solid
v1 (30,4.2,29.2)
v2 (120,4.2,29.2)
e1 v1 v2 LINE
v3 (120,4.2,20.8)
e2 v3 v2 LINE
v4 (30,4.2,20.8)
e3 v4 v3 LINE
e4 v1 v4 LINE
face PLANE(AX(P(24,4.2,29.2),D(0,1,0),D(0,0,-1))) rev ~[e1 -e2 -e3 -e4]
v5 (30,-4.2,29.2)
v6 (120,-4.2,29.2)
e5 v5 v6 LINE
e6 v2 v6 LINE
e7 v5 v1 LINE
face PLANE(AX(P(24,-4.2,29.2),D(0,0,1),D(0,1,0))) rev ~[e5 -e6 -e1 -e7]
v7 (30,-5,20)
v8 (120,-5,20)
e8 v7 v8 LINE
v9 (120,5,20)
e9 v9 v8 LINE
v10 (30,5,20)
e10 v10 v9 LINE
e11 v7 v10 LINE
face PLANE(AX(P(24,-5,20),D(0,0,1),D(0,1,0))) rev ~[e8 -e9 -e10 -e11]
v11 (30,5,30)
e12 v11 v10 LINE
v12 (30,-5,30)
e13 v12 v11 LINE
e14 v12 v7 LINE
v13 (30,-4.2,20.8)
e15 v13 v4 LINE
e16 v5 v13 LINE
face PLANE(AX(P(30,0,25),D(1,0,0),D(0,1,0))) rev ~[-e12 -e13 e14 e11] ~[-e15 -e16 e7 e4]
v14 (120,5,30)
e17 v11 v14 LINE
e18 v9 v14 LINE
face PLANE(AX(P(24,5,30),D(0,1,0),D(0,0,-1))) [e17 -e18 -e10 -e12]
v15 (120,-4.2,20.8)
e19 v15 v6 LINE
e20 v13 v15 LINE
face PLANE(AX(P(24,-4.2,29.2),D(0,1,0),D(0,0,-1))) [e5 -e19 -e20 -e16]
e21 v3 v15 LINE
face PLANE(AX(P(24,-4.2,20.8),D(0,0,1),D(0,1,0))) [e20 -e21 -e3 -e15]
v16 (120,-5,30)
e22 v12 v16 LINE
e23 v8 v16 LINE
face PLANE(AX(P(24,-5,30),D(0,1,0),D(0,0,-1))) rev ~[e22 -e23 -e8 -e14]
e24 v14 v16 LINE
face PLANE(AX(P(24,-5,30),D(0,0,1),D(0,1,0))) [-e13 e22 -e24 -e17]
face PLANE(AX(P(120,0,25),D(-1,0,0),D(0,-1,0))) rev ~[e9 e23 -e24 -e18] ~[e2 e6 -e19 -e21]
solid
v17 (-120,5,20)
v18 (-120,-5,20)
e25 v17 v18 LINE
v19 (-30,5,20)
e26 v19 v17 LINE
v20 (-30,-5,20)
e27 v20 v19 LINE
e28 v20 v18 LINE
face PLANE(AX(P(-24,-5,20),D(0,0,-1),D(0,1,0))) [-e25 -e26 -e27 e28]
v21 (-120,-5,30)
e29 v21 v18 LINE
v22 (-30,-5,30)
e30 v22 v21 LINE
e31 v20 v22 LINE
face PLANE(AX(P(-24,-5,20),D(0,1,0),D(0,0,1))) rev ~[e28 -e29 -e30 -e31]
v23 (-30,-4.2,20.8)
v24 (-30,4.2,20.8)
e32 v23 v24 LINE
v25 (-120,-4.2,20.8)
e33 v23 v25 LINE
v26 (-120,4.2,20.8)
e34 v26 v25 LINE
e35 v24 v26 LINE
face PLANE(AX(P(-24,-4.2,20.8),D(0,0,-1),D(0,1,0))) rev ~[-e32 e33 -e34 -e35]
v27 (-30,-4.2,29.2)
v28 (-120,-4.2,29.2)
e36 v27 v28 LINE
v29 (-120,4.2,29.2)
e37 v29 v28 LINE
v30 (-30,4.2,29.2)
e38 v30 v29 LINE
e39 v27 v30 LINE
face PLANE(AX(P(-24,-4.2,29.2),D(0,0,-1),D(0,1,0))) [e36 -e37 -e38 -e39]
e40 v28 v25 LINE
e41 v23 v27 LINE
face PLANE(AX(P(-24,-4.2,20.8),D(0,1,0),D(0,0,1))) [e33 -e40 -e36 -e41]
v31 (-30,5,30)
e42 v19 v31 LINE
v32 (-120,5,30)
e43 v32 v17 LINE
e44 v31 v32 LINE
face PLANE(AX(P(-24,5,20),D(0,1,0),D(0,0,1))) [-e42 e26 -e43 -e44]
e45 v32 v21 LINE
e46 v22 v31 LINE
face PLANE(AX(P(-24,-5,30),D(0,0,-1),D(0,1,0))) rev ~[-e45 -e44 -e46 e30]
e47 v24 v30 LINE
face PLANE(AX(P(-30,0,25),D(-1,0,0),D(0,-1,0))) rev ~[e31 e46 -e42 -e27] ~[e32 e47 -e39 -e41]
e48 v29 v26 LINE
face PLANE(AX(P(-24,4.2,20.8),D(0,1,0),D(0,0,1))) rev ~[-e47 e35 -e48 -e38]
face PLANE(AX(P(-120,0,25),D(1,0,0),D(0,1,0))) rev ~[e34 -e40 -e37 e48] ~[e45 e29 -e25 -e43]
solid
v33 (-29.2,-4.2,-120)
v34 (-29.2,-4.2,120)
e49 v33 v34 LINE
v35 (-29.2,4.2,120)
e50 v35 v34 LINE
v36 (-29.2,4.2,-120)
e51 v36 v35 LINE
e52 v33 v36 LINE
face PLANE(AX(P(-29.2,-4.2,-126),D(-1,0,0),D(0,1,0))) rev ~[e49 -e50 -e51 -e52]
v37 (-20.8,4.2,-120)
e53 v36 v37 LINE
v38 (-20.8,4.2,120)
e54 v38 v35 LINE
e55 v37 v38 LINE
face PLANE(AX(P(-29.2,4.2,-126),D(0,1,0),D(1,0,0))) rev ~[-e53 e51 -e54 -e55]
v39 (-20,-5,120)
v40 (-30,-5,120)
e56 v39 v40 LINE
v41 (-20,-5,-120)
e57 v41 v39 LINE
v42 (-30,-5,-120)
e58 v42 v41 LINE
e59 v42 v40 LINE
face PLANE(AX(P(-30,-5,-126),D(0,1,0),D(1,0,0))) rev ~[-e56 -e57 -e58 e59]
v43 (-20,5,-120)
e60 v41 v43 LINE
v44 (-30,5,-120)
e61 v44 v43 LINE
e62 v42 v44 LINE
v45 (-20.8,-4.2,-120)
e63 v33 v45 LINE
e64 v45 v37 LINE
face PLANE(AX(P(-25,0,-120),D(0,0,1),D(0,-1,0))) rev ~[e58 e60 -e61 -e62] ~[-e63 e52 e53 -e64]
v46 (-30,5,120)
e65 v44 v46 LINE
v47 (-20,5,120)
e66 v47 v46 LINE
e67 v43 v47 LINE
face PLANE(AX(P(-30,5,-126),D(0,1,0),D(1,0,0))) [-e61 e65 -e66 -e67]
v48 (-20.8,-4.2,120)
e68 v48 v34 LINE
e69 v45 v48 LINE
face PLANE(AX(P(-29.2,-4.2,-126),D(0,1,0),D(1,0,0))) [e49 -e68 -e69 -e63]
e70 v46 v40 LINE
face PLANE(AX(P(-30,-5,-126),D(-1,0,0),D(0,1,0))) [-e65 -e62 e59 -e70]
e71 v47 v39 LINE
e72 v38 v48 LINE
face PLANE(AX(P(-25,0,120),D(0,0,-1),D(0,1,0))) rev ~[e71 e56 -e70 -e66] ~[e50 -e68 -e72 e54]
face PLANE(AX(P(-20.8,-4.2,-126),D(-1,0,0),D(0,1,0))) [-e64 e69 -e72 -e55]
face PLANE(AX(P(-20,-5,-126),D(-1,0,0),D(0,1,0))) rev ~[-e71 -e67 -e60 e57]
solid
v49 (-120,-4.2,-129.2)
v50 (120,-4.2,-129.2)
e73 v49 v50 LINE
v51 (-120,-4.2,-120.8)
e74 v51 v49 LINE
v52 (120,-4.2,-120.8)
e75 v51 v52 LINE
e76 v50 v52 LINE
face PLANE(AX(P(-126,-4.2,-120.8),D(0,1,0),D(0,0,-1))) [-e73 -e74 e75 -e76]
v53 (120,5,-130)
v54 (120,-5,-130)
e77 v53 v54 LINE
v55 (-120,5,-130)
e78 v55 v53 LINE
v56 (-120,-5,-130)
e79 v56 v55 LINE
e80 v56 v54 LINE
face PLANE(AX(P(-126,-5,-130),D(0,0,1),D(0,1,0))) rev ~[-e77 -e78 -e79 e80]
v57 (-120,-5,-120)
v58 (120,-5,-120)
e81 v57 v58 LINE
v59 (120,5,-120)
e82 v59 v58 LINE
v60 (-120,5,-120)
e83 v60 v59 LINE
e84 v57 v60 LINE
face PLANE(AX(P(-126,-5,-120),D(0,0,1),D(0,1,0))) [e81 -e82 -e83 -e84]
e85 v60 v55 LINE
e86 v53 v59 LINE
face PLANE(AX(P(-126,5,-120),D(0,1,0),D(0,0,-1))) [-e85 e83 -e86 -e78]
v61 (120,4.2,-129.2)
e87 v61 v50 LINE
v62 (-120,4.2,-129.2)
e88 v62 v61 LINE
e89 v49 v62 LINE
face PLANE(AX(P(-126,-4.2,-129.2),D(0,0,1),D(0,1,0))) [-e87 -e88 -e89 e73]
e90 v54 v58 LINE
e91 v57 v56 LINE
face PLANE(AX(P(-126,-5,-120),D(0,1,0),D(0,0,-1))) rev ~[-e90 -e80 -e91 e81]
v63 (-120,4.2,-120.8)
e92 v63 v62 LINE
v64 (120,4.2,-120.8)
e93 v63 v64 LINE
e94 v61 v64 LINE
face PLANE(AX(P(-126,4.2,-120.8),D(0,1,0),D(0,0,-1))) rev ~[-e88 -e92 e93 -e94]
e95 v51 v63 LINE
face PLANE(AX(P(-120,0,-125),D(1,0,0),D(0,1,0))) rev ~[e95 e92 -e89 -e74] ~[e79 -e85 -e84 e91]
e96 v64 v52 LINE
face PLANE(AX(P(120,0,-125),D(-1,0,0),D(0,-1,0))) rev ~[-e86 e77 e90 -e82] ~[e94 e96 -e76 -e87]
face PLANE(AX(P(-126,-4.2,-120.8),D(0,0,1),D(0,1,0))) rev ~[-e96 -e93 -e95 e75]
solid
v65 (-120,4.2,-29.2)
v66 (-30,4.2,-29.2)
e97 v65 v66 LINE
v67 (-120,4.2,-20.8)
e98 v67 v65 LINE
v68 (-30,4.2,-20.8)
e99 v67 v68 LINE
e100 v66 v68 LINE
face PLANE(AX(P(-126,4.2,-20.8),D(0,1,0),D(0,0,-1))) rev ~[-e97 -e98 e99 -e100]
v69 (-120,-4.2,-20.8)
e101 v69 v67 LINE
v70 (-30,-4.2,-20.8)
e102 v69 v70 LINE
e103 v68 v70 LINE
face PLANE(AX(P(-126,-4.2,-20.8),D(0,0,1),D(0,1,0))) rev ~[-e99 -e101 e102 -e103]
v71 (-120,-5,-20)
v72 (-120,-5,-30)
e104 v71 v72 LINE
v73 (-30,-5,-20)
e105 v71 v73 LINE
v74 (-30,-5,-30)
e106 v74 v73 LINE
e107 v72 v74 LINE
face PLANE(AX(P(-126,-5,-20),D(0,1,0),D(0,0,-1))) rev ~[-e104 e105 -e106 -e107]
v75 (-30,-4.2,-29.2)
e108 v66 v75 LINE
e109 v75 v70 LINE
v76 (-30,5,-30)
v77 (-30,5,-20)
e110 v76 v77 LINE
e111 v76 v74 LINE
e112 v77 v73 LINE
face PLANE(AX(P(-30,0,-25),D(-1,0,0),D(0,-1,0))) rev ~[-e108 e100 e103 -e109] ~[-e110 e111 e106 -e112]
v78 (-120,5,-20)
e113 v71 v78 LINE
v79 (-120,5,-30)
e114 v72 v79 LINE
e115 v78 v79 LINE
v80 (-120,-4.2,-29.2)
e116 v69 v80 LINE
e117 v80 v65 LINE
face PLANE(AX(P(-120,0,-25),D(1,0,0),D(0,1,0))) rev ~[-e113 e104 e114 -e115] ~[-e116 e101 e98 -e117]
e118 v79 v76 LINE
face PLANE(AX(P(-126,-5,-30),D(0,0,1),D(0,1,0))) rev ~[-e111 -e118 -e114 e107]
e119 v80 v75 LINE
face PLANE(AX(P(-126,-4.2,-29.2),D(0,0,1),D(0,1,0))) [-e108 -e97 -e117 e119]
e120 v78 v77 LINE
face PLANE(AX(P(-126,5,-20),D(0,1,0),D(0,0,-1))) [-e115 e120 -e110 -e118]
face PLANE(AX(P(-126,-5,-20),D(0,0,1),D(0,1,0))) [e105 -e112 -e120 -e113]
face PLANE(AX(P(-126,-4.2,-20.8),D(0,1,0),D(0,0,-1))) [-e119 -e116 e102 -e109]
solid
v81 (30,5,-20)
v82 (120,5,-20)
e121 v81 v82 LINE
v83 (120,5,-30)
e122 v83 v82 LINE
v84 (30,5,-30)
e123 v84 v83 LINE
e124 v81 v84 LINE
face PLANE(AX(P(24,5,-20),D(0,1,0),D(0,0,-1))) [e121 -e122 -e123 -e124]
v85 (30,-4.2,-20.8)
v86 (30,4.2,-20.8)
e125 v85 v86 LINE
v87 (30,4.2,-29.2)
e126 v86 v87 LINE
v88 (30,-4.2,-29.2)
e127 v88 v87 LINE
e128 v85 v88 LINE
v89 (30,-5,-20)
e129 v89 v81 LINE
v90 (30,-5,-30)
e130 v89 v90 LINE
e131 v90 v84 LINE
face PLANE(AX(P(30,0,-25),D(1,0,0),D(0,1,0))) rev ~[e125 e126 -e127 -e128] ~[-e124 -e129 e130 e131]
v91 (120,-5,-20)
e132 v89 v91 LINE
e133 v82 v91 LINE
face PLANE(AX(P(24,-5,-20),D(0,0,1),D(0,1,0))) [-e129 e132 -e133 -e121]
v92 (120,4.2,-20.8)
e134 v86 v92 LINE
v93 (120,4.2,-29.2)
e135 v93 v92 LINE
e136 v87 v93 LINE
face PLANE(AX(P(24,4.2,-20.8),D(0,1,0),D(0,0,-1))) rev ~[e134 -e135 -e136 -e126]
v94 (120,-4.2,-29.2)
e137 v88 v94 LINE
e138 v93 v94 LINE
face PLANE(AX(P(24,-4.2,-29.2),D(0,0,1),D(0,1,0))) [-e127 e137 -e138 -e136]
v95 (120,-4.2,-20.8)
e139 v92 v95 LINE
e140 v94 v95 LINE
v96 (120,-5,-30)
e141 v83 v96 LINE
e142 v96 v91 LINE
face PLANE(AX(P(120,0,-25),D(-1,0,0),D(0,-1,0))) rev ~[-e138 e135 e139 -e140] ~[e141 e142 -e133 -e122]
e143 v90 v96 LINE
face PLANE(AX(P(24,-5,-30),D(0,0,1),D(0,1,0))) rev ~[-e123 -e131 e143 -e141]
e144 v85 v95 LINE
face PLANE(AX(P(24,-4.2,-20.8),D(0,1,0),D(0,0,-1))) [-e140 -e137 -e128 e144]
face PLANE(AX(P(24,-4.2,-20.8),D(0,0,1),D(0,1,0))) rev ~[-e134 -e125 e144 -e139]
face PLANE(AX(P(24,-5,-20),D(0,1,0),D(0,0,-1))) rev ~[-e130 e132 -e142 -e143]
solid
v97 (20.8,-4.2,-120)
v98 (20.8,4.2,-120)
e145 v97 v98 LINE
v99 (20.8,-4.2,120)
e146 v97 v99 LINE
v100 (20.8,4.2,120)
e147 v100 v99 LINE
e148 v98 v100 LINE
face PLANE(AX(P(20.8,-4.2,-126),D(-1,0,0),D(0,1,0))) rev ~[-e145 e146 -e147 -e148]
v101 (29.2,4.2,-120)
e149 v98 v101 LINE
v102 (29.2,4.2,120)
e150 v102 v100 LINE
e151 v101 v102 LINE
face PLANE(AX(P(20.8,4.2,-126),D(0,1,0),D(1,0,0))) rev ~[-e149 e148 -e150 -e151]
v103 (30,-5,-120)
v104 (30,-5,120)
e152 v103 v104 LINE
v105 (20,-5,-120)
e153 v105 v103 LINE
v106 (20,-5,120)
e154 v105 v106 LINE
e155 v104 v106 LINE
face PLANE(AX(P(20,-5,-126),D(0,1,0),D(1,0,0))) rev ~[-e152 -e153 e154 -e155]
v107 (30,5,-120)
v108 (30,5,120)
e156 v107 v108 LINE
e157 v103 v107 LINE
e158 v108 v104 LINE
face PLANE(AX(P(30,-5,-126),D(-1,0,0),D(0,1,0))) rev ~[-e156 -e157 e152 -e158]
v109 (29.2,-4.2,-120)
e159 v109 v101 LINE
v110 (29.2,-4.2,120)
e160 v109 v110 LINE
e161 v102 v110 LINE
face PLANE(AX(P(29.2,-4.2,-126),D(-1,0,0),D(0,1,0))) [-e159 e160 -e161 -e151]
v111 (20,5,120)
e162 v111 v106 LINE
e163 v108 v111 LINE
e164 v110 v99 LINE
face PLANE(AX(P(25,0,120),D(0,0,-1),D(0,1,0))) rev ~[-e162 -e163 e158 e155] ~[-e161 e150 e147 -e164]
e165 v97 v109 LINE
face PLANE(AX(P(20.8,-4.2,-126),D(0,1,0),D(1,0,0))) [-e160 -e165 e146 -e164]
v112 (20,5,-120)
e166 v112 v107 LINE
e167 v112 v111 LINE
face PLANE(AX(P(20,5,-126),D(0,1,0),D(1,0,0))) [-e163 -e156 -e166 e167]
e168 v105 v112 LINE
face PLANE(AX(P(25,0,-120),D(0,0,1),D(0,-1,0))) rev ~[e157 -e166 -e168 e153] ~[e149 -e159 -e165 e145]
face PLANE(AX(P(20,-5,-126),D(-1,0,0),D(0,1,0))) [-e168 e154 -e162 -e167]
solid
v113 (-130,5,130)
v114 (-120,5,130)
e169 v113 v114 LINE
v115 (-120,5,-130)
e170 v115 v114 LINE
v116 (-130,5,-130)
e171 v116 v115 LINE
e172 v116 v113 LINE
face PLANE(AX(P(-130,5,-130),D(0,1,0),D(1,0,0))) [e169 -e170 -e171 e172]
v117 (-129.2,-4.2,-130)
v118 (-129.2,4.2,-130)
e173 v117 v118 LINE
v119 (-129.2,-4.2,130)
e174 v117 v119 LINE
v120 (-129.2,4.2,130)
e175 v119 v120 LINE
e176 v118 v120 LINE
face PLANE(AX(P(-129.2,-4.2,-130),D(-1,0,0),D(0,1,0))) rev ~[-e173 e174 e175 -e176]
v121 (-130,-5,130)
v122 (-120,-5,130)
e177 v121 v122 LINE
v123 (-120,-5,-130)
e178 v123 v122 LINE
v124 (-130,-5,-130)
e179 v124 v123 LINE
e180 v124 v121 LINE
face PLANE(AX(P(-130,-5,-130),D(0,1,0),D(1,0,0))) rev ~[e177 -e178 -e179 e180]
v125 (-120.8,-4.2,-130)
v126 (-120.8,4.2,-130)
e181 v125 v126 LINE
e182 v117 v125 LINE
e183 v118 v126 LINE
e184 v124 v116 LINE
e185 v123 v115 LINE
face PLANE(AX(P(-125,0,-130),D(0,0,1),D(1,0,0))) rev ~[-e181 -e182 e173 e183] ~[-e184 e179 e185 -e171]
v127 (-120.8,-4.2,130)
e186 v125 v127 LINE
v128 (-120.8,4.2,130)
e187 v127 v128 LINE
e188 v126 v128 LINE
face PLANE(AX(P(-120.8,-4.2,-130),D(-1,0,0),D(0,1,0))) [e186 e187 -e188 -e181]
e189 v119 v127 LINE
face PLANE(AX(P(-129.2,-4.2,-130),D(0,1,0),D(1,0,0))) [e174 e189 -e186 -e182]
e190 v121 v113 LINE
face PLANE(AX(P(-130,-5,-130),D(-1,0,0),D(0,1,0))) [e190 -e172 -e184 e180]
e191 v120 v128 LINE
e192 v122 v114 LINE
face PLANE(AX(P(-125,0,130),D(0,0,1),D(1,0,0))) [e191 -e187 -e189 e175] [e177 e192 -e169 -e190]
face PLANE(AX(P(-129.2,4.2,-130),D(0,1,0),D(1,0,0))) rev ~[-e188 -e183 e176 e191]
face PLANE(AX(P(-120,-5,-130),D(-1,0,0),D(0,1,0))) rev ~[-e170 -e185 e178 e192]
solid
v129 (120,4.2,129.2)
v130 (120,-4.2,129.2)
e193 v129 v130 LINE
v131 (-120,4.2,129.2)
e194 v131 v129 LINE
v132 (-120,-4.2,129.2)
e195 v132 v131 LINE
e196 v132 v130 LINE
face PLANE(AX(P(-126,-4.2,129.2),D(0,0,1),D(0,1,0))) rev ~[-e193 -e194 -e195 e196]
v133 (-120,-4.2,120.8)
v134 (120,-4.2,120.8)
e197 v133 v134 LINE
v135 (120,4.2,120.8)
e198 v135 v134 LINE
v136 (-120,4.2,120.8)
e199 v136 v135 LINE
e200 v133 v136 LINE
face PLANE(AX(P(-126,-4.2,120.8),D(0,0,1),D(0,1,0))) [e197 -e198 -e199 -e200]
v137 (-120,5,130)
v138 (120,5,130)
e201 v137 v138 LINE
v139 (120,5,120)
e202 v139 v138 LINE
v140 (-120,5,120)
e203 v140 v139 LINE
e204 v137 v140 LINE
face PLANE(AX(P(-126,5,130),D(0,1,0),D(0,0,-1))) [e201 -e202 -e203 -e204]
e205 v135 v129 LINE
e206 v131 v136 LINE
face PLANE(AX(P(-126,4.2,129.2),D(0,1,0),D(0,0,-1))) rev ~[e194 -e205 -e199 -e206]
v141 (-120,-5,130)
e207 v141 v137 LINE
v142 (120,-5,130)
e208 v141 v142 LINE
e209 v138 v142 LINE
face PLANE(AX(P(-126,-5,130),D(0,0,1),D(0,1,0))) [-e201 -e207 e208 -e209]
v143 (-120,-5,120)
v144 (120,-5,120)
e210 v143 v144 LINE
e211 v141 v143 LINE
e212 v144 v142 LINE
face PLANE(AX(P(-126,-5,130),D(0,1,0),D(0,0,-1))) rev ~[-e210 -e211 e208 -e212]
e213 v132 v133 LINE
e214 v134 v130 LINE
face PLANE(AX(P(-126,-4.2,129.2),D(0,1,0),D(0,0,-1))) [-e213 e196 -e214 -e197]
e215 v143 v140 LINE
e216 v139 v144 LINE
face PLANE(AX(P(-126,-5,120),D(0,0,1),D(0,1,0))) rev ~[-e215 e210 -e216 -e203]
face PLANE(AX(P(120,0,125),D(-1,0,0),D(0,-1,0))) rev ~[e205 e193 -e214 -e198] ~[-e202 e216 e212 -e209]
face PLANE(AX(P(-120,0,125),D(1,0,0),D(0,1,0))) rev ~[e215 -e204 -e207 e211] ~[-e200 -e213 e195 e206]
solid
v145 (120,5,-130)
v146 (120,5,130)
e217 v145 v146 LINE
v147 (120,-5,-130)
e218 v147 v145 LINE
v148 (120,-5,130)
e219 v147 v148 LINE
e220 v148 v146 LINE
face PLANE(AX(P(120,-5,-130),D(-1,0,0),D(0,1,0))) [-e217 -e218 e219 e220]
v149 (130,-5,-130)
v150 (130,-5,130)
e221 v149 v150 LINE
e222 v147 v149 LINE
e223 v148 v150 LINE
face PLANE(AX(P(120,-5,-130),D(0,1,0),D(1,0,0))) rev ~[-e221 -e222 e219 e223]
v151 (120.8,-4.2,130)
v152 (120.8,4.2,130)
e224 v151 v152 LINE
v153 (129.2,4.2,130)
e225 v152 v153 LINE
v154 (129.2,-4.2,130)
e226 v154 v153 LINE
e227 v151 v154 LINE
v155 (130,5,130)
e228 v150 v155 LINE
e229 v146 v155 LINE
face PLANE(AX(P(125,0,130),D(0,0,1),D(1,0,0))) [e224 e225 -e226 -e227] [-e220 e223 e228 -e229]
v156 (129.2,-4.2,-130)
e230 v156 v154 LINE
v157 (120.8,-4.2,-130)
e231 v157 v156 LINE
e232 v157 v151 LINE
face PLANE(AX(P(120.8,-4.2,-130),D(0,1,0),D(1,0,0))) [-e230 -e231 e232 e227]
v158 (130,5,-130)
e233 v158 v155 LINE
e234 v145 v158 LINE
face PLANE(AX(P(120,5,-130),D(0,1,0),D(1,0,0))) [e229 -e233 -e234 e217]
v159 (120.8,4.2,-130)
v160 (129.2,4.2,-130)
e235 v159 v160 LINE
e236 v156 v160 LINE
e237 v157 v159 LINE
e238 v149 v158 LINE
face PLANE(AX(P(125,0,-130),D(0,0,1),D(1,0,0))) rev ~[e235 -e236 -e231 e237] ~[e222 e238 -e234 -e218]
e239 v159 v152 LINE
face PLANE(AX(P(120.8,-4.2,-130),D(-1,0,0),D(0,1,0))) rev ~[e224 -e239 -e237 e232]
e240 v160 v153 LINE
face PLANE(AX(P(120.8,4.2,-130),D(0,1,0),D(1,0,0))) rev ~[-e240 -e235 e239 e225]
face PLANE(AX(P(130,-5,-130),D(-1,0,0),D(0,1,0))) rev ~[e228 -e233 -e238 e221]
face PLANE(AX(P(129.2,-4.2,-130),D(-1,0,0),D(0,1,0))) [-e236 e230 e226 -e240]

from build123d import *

# Parameters (mm, degrees)
INOX_VU_NG_CONFIGURED_10X0_8_1_DEPTH      = 255
INOX_VU_NG_CONFIGURED_10X0_8_1_DEPTH_BACK = 5
SKETCH11_W                                = 10
SKETCH11_H                                = 10
SKETCH11_W_2                              = 8.4
SKETCH11_H_2                              = 8.4
SKETCH11_ON_SEGMENT_2_W                   = 10
SKETCH11_ON_SEGMENT_2_H                   = 10
SKETCH11_ON_SEGMENT_2_W_2                 = 8.4
SKETCH11_ON_SEGMENT_2_H_2                 = 8.4
INOX_VU_NG_CONFIGURED_10X0_8_1_2_DEPTH    = 252
SKETCH11_ON_SEGMENT_3_W                   = 10
SKETCH11_ON_SEGMENT_3_H                   = 10
SKETCH11_ON_SEGMENT_3_W_2                 = 8.4
SKETCH11_ON_SEGMENT_3_H_2                 = 8.4
INOX_VU_NG_CONFIGURED_10X0_8_1_3_DEPTH    = 252
SKETCH11_ON_SEGMENT_4_W                   = 10
SKETCH11_ON_SEGMENT_4_H                   = 10
SKETCH11_ON_SEGMENT_4_W_2                 = 8.4
SKETCH11_ON_SEGMENT_4_H_2                 = 8.4
INOX_VU_NG_CONFIGURED_10X0_8_1_4_DEPTH    = 260
SKETCH11_ON_SEGMENT_5_W                   = 10
SKETCH11_ON_SEGMENT_5_H                   = 10
SKETCH11_ON_SEGMENT_5_W_2                 = 8.4
SKETCH11_ON_SEGMENT_5_H_2                 = 8.4
INOX_VU_NG_CONFIGURED_10X0_8_1_5_DEPTH    = 252
SKETCH11_ON_SEGMENT_6_W                   = 10
SKETCH11_ON_SEGMENT_6_H                   = 10
SKETCH11_ON_SEGMENT_6_W_2                 = 8.4
SKETCH11_ON_SEGMENT_6_H_2                 = 8.4
INOX_VU_NG_CONFIGURED_10X0_8_1_6_DEPTH    = 252
SKETCH11_ON_SEGMENT_7_W                   = 10
SKETCH11_ON_SEGMENT_7_H                   = 10
SKETCH11_ON_SEGMENT_7_W_2                 = 8.4
SKETCH11_ON_SEGMENT_7_H_2                 = 8.4
INOX_VU_NG_CONFIGURED_10X0_8_1_7_DEPTH    = 102
SKETCH11_ON_SEGMENT_8_W                   = 10
SKETCH11_ON_SEGMENT_8_H                   = 10
SKETCH11_ON_SEGMENT_8_W_2                 = 8.4
SKETCH11_ON_SEGMENT_8_H_2                 = 8.4
INOX_VU_NG_CONFIGURED_10X0_8_1_8_DEPTH    = 102
SKETCH11_ON_SEGMENT_9_W                   = 10
SKETCH11_ON_SEGMENT_9_H                   = 10
SKETCH11_ON_SEGMENT_9_W_2                 = 8.4
SKETCH11_ON_SEGMENT_9_H_2                 = 8.4
INOX_VU_NG_CONFIGURED_10X0_8_1_9_DEPTH    = 102
SKETCH11_ON_SEGMENT_10_W                  = 10
SKETCH11_ON_SEGMENT_10_H                  = 10
SKETCH11_ON_SEGMENT_10_W_2                = 8.4
SKETCH11_ON_SEGMENT_10_H_2                = 8.4
INOX_VU_NG_CONFIGURED_10X0_8_1_10_DEPTH   = 102


with BuildPart() as part:
    # Sketch11 → Inox vuông - configured 10X0.8(1) (new, two sides: drawn at the far end of the back side and taken through both)
    with BuildSketch(Plane(origin=(-125, 0, -125), x_dir=(1, 0, 0), z_dir=(0, 0, 1)).offset(-INOX_VU_NG_CONFIGURED_10X0_8_1_DEPTH_BACK)):
        Rectangle(SKETCH11_W, SKETCH11_H)
        Rectangle(SKETCH11_W_2, SKETCH11_H_2, mode=Mode.SUBTRACT)
    extrude(amount=INOX_VU_NG_CONFIGURED_10X0_8_1_DEPTH + INOX_VU_NG_CONFIGURED_10X0_8_1_DEPTH_BACK)


with BuildPart() as body_2:
    # Sketch11 on segment 2 (carried to segment 2) → Inox vu_ng - configured 10X0.8_1 2 (new body)
    with BuildSketch(Plane(origin=(-25, 0, -126), x_dir=(1, 0, 0), z_dir=(0, 0, 1))):
        Rectangle(SKETCH11_ON_SEGMENT_2_W, SKETCH11_ON_SEGMENT_2_H)
        Rectangle(SKETCH11_ON_SEGMENT_2_W_2, SKETCH11_ON_SEGMENT_2_H_2, mode=Mode.SUBTRACT)
    extrude(amount=INOX_VU_NG_CONFIGURED_10X0_8_1_2_DEPTH)

    # Inox vu_ng - configured 10X0.8_1 2 end b
    split(bisect_by=Plane(origin=(-25, 0, -120), x_dir=(0, -1, 0), z_dir=(0, 0, 1)), keep=Keep.TOP)

    # Inox vu_ng - configured 10X0.8_1 2 e 2
    split(bisect_by=Plane(origin=(-25, 0, 120), x_dir=(0, 1, 0), z_dir=(0, 0, -1)), keep=Keep.TOP)


with BuildPart() as body_3:
    # Sketch11 on segment 3 (carried to segment 3) → Inox vu_ng - configured 10X0.8_1 3 (new body)
    with BuildSketch(Plane(origin=(25, 0, -126), x_dir=(1, 0, 0), z_dir=(0, 0, 1))):
        Rectangle(SKETCH11_ON_SEGMENT_3_W, SKETCH11_ON_SEGMENT_3_H)
        Rectangle(SKETCH11_ON_SEGMENT_3_W_2, SKETCH11_ON_SEGMENT_3_H_2, mode=Mode.SUBTRACT)
    extrude(amount=INOX_VU_NG_CONFIGURED_10X0_8_1_3_DEPTH)

    # Inox vu_ng - configured 10X0.8_1 3 end b
    split(bisect_by=Plane(origin=(25, 0, -120), x_dir=(0, -1, 0), z_dir=(0, 0, 1)), keep=Keep.TOP)

    # Inox vu_ng - configured 10X0.8_1 3 e 2
    split(bisect_by=Plane(origin=(25, 0, 120), x_dir=(0, 1, 0), z_dir=(0, 0, -1)), keep=Keep.TOP)


with BuildPart() as body_4:
    # Sketch11 on segment 4 (carried to segment 4) → Inox vu_ng - configured 10X0.8_1 4 (new body)
    with BuildSketch(Plane(origin=(125, 0, -130), x_dir=(1, 0, 0), z_dir=(0, 0, 1))):
        Rectangle(SKETCH11_ON_SEGMENT_4_W, SKETCH11_ON_SEGMENT_4_H)
        Rectangle(SKETCH11_ON_SEGMENT_4_W_2, SKETCH11_ON_SEGMENT_4_H_2, mode=Mode.SUBTRACT)
    extrude(amount=INOX_VU_NG_CONFIGURED_10X0_8_1_4_DEPTH)


with BuildPart() as body_5:
    # Sketch11 on segment 5 (carried to segment 5) → Inox vu_ng - configured 10X0.8_1 5 (new body)
    with BuildSketch(Plane(origin=(-126, 0, -125), x_dir=(0, 0, -1), z_dir=(1, 0, 0))):
        Rectangle(SKETCH11_ON_SEGMENT_5_W, SKETCH11_ON_SEGMENT_5_H)
        Rectangle(SKETCH11_ON_SEGMENT_5_W_2, SKETCH11_ON_SEGMENT_5_H_2, mode=Mode.SUBTRACT)
    extrude(amount=INOX_VU_NG_CONFIGURED_10X0_8_1_5_DEPTH)

    # Inox vu_ng - configured 10X0.8_1 5 end b
    split(bisect_by=Plane(origin=(-120, 0, -125), x_dir=(0, 1, 0), z_dir=(1, 0, 0)), keep=Keep.TOP)

    # Inox vu_ng - configured 10X0.8_1 5 e 2
    split(bisect_by=Plane(origin=(120, 0, -125), x_dir=(0, -1, 0), z_dir=(-1, 0, 0)), keep=Keep.TOP)


with BuildPart() as body_6:
    # Sketch11 on segment 6 (carried to segment 6) → Inox vu_ng - configured 10X0.8_1 6 (new body)
    with BuildSketch(Plane(origin=(-126, 0, 125), x_dir=(0, 0, -1), z_dir=(1, 0, 0))):
        Rectangle(SKETCH11_ON_SEGMENT_6_W, SKETCH11_ON_SEGMENT_6_H)
        Rectangle(SKETCH11_ON_SEGMENT_6_W_2, SKETCH11_ON_SEGMENT_6_H_2, mode=Mode.SUBTRACT)
    extrude(amount=INOX_VU_NG_CONFIGURED_10X0_8_1_6_DEPTH)

    # Inox vu_ng - configured 10X0.8_1 6 end b
    split(bisect_by=Plane(origin=(-120, 0, 125), x_dir=(0, 1, 0), z_dir=(1, 0, 0)), keep=Keep.TOP)

    # Inox vu_ng - configured 10X0.8_1 6 e 2
    split(bisect_by=Plane(origin=(120, 0, 125), x_dir=(0, -1, 0), z_dir=(-1, 0, 0)), keep=Keep.TOP)


with BuildPart() as body_7:
    # Sketch11 on segment 7 (carried to segment 7) → Inox vu_ng - configured 10X0.8_1 7 (new body)
    with BuildSketch(Plane(origin=(-24, 0, 25), x_dir=(0, 0, 1), z_dir=(-1, 0, 0))):
        Rectangle(SKETCH11_ON_SEGMENT_7_W, SKETCH11_ON_SEGMENT_7_H)
        Rectangle(SKETCH11_ON_SEGMENT_7_W_2, SKETCH11_ON_SEGMENT_7_H_2, mode=Mode.SUBTRACT)
    extrude(amount=INOX_VU_NG_CONFIGURED_10X0_8_1_7_DEPTH)

    # Inox vu_ng - configured 10X0.8_1 7 end b
    split(bisect_by=Plane(origin=(-30, 0, 25), x_dir=(0, -1, 0), z_dir=(-1, 0, 0)), keep=Keep.TOP)

    # Inox vu_ng - configured 10X0.8_1 7 e 2
    split(bisect_by=Plane(origin=(-120, 0, 25), x_dir=(0, 1, 0), z_dir=(1, 0, 0)), keep=Keep.TOP)


with BuildPart() as body_8:
    # Sketch11 on segment 8 (carried to segment 8) → Inox vu_ng - configured 10X0.8_1 8 (new body)
    with BuildSketch(Plane(origin=(-126, 0, -25), x_dir=(0, 0, -1), z_dir=(1, 0, 0))):
        Rectangle(SKETCH11_ON_SEGMENT_8_W, SKETCH11_ON_SEGMENT_8_H)
        Rectangle(SKETCH11_ON_SEGMENT_8_W_2, SKETCH11_ON_SEGMENT_8_H_2, mode=Mode.SUBTRACT)
    extrude(amount=INOX_VU_NG_CONFIGURED_10X0_8_1_8_DEPTH)

    # Inox vu_ng - configured 10X0.8_1 8 end b
    split(bisect_by=Plane(origin=(-120, 0, -25), x_dir=(0, 1, 0), z_dir=(1, 0, 0)), keep=Keep.TOP)

    # Inox vu_ng - configured 10X0.8_1 8 e 2
    split(bisect_by=Plane(origin=(-30, 0, -25), x_dir=(0, -1, 0), z_dir=(-1, 0, 0)), keep=Keep.TOP)


with BuildPart() as body_9:
    # Sketch11 on segment 9 (carried to segment 9) → Inox vu_ng - configured 10X0.8_1 9 (new body)
    with BuildSketch(Plane(origin=(24, 0, -25), x_dir=(0, 0, -1), z_dir=(1, 0, 0))):
        Rectangle(SKETCH11_ON_SEGMENT_9_W, SKETCH11_ON_SEGMENT_9_H)
        Rectangle(SKETCH11_ON_SEGMENT_9_W_2, SKETCH11_ON_SEGMENT_9_H_2, mode=Mode.SUBTRACT)
    extrude(amount=INOX_VU_NG_CONFIGURED_10X0_8_1_9_DEPTH)

    # Inox vu_ng - configured 10X0.8_1 9 end b
    split(bisect_by=Plane(origin=(30, 0, -25), x_dir=(0, 1, 0), z_dir=(1, 0, 0)), keep=Keep.TOP)

    # Inox vu_ng - configured 10X0.8_1 9 e 2
    split(bisect_by=Plane(origin=(120, 0, -25), x_dir=(0, -1, 0), z_dir=(-1, 0, 0)), keep=Keep.TOP)


with BuildPart() as body_10:
    # Sketch11 on segment 10 (carried to segment 10) → Inox vu_ng - configured 10X0.8_1 10 (new body)
    with BuildSketch(Plane(origin=(24, 0, 25), x_dir=(0, 0, -1), z_dir=(1, 0, 0))):
        Rectangle(SKETCH11_ON_SEGMENT_10_W, SKETCH11_ON_SEGMENT_10_H)
        Rectangle(SKETCH11_ON_SEGMENT_10_W_2, SKETCH11_ON_SEGMENT_10_H_2, mode=Mode.SUBTRACT)
    extrude(amount=INOX_VU_NG_CONFIGURED_10X0_8_1_10_DEPTH)

    # Inox vu_ng - configured 10X0.8_1 10 end
    split(bisect_by=Plane(origin=(30, 0, 25), x_dir=(0, 1, 0), z_dir=(1, 0, 0)), keep=Keep.TOP)

    # Inox vu_ng - configured 10X0.8_1 10  2
    split(bisect_by=Plane(origin=(120, 0, 25), x_dir=(0, -1, 0), z_dir=(-1, 0, 0)), keep=Keep.TOP)


solid = Compound([part.part, body_2.part, body_3.part, body_4.part, body_5.part, body_6.part, body_7.part, body_8.part, body_9.part, body_10.part])
